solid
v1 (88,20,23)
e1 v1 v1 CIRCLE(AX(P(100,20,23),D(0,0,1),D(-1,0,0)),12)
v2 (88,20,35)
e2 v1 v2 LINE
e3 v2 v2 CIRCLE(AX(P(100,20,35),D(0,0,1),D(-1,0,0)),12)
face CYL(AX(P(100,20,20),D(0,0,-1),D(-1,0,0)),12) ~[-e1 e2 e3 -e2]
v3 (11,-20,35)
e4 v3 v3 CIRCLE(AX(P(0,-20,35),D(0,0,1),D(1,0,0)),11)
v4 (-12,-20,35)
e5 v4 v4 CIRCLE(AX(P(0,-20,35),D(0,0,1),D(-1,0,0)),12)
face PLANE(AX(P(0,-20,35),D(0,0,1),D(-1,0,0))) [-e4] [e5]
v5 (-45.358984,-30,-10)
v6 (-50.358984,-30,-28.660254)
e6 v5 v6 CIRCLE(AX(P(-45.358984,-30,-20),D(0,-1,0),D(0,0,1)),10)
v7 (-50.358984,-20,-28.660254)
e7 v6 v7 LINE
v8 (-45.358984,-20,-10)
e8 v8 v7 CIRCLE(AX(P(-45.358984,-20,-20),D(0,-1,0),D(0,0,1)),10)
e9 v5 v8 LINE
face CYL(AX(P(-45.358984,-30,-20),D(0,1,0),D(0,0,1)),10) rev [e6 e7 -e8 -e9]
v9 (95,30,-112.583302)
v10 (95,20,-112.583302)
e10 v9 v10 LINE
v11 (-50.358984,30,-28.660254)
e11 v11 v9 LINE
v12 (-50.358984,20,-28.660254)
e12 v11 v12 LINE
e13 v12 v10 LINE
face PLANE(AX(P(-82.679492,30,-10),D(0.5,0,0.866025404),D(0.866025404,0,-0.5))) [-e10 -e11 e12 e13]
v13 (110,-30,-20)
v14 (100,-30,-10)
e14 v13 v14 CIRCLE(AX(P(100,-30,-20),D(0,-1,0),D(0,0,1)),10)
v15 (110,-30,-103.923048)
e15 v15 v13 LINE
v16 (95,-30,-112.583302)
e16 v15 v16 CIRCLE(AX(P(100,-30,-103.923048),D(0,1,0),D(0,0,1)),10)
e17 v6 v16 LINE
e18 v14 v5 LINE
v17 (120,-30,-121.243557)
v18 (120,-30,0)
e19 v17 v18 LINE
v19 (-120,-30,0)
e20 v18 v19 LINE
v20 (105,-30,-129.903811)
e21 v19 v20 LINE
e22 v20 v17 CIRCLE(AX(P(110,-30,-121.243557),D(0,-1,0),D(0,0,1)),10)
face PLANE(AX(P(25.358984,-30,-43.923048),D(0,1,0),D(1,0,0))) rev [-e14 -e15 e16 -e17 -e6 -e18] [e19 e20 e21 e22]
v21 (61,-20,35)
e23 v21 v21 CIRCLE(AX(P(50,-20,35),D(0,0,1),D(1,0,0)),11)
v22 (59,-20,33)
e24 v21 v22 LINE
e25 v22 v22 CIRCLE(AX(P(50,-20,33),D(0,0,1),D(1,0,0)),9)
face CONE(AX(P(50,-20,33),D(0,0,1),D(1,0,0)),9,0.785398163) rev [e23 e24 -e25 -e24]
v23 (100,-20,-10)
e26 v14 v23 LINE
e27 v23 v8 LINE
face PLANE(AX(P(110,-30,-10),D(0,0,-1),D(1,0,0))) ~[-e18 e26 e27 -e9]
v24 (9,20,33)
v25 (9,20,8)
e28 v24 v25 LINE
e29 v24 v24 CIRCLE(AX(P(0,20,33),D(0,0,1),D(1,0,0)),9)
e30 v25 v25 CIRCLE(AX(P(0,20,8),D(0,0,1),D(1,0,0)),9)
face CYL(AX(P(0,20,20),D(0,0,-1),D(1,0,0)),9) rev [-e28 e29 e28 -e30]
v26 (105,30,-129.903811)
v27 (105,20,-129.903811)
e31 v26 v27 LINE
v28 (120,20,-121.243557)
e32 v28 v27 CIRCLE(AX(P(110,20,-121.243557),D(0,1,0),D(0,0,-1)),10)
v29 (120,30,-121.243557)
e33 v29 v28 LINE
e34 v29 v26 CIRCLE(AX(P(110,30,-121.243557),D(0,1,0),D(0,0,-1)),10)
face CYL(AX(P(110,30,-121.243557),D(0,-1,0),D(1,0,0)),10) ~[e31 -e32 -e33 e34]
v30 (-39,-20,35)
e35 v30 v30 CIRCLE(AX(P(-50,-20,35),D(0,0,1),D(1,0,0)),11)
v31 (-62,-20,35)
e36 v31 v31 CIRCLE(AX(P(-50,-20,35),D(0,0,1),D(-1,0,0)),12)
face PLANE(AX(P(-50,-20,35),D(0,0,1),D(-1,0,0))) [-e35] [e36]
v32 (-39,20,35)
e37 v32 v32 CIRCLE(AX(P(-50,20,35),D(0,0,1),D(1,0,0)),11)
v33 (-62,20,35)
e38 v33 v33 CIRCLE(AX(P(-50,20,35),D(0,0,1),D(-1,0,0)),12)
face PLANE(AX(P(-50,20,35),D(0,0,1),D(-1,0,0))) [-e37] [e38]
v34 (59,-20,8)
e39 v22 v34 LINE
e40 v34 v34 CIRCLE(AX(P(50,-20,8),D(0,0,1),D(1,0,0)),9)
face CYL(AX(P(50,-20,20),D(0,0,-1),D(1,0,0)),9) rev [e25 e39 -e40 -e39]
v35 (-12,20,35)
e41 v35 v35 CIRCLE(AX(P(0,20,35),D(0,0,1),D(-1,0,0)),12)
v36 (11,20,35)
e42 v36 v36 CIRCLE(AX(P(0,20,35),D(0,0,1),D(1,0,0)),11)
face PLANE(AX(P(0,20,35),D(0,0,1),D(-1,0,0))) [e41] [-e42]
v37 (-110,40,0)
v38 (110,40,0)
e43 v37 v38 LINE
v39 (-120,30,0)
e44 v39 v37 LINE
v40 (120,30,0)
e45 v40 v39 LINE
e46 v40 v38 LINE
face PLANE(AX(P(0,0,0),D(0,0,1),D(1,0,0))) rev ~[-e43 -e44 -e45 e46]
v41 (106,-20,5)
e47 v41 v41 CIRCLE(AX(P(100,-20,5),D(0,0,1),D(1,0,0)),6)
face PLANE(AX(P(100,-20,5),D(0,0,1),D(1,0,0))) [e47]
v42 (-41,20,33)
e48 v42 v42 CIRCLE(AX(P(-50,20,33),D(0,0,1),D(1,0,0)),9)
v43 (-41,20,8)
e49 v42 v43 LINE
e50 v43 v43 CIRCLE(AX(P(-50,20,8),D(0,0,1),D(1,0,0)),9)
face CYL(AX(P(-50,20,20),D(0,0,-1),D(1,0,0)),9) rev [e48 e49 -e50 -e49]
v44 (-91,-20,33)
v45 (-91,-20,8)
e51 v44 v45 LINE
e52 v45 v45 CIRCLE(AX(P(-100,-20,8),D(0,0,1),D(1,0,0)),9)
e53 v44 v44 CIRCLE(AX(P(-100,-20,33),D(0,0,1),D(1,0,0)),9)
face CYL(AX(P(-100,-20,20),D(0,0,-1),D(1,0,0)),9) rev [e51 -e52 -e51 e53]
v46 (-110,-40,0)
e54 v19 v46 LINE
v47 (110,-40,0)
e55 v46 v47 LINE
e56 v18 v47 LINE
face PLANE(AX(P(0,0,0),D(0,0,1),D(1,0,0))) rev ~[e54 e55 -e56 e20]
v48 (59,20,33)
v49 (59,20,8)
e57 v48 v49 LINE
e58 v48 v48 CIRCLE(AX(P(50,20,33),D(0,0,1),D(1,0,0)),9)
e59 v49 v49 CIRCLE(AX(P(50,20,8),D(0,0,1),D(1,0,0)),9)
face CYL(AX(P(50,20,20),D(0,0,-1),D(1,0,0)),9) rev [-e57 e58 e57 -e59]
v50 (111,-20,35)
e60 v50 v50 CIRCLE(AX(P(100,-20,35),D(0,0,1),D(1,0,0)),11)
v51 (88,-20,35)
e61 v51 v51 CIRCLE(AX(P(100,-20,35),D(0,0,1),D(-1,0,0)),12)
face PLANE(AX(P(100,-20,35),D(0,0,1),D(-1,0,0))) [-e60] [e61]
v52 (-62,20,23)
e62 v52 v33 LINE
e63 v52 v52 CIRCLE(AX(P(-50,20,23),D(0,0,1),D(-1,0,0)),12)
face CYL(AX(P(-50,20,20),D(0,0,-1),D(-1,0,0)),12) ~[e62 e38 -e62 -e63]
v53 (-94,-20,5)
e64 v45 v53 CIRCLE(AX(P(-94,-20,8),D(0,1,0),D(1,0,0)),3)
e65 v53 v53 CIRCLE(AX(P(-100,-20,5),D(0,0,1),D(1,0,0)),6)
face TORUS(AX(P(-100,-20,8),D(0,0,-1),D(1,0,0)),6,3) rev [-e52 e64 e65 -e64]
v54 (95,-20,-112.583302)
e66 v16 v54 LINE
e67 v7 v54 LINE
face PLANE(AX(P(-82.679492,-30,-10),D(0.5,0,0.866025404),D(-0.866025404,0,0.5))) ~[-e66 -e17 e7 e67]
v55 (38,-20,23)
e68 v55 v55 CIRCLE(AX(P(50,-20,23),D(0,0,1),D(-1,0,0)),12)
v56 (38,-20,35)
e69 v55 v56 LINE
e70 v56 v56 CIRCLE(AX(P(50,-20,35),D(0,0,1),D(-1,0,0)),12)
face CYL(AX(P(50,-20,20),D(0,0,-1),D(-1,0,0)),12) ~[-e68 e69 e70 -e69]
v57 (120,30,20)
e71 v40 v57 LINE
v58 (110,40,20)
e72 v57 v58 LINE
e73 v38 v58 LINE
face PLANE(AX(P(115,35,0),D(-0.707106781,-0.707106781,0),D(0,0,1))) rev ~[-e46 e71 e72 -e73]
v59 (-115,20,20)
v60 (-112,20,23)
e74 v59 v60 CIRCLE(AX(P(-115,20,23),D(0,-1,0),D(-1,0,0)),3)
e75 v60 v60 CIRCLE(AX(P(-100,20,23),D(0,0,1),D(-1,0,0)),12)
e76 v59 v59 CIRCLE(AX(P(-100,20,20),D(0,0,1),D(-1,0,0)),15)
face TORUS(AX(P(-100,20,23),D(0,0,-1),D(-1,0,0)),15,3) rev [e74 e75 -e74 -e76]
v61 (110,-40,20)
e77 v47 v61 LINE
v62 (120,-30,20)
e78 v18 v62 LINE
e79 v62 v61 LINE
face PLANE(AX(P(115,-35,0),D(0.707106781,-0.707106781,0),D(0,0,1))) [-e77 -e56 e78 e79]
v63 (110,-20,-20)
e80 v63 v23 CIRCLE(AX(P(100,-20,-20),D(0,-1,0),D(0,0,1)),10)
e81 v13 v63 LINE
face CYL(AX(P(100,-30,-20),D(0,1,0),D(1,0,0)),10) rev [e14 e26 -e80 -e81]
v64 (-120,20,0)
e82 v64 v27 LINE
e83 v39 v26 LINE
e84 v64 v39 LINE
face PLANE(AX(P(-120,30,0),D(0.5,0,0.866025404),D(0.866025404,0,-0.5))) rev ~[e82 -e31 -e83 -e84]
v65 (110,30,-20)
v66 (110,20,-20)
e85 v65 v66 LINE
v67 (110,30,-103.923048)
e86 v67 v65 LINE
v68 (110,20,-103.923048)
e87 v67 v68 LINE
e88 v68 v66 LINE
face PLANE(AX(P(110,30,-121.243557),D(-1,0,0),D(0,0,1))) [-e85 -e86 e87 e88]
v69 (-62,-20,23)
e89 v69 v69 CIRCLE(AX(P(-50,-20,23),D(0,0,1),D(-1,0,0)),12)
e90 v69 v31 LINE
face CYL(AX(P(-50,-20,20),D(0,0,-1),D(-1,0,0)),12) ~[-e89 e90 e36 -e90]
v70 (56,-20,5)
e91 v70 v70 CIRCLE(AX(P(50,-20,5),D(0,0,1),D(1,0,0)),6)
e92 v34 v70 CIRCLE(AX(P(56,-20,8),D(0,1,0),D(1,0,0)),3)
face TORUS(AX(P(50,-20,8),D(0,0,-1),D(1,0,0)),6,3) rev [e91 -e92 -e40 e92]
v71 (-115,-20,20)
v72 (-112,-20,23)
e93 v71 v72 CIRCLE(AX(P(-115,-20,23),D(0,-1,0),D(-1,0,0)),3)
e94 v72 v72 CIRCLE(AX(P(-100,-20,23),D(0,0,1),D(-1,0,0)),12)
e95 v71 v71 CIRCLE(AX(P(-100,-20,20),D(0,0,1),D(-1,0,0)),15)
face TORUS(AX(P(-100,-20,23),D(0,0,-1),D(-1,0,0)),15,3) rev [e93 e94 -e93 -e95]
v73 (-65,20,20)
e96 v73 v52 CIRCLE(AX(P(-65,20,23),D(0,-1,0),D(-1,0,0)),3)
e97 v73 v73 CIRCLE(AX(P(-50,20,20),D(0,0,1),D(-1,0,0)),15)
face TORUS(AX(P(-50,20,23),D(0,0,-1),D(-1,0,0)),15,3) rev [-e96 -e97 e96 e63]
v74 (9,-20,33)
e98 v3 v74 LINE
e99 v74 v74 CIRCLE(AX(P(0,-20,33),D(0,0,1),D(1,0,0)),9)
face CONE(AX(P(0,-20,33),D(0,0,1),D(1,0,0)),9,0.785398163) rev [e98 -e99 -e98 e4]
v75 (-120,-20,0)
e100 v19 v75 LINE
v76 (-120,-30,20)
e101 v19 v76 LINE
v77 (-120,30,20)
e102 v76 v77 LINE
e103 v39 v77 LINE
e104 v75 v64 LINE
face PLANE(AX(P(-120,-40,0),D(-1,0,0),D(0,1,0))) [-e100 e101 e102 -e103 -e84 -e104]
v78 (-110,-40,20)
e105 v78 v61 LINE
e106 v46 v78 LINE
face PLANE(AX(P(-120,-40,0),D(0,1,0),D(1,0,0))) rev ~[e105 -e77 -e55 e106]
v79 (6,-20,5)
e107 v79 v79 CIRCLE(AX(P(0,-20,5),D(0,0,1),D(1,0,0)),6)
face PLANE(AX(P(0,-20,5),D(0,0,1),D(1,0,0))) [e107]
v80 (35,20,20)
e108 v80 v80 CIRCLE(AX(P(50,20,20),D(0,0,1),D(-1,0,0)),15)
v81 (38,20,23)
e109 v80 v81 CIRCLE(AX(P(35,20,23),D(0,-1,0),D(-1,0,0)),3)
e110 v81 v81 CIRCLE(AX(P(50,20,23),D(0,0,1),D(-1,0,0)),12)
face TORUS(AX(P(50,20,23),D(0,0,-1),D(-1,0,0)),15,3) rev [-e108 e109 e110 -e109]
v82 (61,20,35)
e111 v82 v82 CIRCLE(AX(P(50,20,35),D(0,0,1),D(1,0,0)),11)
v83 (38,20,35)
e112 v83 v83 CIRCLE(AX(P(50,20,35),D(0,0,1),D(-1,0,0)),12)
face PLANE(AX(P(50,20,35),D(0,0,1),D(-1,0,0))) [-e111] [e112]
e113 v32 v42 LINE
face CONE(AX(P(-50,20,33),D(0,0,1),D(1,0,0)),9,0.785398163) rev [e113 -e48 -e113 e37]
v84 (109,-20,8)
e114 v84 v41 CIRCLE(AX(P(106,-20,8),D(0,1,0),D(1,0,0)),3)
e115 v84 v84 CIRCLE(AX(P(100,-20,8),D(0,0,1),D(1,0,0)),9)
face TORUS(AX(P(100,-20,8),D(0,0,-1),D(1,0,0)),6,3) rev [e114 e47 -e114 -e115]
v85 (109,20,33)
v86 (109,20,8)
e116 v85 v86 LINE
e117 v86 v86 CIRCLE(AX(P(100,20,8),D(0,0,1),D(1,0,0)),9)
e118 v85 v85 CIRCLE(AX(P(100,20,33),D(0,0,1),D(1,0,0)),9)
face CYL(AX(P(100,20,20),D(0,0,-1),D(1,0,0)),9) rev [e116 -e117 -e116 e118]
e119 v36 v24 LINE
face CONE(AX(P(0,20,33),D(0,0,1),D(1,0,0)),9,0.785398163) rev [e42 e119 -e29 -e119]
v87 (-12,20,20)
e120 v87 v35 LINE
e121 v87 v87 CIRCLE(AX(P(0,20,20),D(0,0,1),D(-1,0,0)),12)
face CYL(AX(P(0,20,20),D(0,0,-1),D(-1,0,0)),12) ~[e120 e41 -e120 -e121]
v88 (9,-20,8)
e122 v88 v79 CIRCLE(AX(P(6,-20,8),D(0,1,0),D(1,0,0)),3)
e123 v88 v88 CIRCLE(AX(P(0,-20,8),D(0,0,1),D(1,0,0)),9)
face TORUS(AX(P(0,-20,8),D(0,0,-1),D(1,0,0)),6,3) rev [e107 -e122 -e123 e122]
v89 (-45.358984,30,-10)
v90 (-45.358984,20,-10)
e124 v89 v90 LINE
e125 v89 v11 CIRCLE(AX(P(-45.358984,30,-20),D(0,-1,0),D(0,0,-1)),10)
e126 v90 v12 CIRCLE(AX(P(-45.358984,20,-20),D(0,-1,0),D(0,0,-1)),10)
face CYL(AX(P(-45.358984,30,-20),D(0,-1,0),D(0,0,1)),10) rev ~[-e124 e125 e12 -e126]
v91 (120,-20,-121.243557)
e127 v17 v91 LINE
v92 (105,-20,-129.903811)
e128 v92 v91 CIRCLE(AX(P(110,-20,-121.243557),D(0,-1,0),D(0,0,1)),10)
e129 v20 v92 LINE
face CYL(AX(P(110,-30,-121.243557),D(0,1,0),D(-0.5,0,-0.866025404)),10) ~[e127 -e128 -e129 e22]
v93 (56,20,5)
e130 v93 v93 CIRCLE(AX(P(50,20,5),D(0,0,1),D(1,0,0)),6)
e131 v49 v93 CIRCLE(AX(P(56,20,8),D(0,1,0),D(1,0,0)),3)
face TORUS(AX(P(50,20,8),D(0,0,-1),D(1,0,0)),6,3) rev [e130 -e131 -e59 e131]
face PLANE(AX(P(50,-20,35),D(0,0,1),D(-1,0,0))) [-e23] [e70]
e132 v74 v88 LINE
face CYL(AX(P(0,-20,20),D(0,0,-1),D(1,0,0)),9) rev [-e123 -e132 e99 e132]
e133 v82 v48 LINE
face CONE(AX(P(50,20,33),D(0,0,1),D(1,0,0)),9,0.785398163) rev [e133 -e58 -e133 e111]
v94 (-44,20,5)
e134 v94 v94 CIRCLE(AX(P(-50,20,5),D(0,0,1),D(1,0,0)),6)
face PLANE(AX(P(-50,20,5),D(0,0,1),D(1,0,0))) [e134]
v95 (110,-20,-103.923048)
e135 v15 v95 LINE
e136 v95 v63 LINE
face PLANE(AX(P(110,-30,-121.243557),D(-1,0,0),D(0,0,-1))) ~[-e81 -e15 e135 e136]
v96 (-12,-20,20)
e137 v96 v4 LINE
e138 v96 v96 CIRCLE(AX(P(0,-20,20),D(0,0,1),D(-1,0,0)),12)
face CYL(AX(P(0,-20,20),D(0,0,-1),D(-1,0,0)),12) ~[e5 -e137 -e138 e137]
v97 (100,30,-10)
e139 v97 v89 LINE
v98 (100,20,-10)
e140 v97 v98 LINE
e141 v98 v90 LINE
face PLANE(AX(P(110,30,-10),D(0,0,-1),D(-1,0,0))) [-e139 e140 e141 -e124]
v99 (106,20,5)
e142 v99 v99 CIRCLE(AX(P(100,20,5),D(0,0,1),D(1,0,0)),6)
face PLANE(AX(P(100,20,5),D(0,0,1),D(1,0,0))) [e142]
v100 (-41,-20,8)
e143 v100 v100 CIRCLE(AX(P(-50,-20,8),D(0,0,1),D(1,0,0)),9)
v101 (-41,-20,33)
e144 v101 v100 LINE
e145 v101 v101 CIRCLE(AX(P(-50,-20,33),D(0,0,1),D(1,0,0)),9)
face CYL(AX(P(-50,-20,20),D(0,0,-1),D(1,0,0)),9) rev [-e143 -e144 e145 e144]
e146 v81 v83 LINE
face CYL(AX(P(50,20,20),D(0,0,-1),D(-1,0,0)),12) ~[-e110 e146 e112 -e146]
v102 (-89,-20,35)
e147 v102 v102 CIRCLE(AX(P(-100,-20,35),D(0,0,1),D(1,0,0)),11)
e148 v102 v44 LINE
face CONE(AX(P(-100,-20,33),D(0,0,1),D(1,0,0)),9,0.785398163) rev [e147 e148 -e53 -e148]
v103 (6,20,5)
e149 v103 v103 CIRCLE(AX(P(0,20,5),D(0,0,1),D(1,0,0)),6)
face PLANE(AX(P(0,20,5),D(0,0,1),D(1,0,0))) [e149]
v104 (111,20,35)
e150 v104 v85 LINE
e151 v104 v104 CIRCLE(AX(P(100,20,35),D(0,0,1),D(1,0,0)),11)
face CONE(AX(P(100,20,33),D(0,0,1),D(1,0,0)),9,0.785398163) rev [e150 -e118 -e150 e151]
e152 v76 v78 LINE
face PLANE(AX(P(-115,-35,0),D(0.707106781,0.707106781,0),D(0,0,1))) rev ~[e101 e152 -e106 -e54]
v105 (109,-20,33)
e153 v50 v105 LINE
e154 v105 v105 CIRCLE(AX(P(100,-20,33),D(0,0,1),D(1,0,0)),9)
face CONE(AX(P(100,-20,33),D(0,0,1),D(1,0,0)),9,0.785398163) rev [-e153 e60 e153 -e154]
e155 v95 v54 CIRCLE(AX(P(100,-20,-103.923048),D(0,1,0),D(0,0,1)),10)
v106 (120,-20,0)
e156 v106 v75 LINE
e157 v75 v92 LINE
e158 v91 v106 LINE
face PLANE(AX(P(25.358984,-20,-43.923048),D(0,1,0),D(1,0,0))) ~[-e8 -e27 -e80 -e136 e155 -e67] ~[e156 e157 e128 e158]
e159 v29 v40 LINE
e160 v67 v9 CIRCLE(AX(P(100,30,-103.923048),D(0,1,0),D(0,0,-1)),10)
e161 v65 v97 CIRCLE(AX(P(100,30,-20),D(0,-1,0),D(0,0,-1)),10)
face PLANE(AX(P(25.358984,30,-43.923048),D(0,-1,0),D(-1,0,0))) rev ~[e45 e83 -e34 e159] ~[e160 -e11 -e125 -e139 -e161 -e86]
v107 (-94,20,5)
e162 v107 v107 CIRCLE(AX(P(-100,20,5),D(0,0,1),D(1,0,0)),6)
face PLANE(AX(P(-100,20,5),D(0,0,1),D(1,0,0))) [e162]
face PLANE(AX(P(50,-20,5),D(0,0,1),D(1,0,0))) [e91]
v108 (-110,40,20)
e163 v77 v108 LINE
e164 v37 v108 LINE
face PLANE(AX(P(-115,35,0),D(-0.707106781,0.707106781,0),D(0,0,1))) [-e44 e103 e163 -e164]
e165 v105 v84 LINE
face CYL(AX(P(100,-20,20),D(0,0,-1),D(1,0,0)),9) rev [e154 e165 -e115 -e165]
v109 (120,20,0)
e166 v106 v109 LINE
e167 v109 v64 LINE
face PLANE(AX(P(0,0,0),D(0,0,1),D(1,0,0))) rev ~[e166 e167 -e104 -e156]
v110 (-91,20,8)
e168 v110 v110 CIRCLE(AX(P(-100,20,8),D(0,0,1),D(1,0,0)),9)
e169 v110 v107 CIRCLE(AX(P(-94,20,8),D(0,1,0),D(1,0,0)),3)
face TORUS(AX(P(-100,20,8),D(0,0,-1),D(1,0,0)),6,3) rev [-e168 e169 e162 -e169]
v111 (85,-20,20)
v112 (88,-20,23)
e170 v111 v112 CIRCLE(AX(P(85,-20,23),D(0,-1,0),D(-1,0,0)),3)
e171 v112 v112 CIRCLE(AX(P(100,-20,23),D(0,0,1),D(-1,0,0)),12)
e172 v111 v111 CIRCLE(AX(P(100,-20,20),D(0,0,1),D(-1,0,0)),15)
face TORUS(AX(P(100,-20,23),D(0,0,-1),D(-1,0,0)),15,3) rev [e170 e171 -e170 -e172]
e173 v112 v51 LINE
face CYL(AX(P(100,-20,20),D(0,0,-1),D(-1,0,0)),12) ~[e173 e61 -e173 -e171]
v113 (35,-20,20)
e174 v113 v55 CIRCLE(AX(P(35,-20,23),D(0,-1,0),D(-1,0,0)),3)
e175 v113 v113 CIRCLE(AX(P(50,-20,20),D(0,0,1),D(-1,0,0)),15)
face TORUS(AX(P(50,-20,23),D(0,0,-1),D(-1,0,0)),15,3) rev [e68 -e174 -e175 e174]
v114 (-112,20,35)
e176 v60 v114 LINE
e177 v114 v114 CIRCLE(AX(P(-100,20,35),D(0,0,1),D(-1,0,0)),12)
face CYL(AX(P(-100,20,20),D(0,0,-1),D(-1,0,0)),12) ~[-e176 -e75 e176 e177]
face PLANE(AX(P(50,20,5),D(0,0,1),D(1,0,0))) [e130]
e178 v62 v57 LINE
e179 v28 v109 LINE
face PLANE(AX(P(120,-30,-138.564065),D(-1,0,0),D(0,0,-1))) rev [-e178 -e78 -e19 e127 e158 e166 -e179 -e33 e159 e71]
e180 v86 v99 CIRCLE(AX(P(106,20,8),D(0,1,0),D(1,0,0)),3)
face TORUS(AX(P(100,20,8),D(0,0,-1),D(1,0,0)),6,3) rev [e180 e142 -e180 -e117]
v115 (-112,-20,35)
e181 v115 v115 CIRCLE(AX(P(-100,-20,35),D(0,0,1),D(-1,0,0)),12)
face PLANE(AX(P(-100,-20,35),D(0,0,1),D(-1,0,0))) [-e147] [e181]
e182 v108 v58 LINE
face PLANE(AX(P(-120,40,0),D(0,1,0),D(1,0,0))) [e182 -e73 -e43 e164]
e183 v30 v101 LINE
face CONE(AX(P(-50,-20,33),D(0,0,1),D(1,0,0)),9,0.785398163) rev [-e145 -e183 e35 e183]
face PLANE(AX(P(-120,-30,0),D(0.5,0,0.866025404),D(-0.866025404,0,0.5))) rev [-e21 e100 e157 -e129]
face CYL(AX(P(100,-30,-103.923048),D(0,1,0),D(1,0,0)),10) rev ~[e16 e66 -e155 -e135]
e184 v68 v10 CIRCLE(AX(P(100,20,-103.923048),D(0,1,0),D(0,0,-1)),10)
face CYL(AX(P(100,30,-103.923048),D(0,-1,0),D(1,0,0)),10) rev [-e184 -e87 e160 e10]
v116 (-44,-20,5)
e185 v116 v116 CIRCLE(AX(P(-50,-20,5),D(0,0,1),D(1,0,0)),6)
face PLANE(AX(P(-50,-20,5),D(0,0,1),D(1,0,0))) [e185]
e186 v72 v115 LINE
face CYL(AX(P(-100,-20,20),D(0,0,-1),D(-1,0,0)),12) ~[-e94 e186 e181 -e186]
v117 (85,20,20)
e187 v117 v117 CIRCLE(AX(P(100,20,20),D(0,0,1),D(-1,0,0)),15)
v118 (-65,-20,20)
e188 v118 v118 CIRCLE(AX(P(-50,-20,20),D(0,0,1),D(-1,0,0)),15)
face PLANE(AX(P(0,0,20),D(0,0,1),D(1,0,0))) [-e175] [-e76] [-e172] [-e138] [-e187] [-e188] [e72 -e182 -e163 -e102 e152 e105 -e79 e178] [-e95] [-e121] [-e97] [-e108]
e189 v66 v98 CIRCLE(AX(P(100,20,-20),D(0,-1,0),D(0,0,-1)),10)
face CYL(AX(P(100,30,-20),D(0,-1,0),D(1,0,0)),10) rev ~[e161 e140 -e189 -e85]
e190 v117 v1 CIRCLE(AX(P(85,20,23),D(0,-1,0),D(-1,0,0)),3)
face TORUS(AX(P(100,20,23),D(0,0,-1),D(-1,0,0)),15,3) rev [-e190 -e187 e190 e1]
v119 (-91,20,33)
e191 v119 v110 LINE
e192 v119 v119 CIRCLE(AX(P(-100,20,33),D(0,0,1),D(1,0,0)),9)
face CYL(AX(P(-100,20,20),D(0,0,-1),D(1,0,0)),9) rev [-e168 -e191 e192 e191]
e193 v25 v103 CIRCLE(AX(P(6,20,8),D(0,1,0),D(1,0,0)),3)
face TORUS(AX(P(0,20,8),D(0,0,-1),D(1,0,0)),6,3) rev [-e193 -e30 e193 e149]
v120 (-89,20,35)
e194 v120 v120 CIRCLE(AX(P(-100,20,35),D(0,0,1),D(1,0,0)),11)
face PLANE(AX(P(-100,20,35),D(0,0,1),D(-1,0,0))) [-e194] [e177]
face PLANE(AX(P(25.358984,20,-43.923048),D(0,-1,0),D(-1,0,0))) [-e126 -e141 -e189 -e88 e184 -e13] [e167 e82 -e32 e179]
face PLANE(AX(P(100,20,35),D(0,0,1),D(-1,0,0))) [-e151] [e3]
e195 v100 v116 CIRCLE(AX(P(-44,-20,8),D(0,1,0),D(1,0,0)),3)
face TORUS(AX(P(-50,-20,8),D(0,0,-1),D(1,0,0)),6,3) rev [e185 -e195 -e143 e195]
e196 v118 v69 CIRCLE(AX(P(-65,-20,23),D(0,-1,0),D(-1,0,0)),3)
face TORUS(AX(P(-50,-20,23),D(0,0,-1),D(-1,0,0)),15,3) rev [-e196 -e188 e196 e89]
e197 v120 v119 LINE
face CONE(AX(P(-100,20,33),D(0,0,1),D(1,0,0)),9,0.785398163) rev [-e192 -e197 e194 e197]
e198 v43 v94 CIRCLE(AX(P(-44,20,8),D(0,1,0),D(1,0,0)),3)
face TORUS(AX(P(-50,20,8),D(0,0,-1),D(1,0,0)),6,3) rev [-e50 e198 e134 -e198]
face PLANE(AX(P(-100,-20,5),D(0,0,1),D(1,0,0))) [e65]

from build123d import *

# Parameters (mm, degrees)
SKETCH_1_W          = 240
SKETCH_1_H          = 80
EXTRUDE_1_DEPTH     = 20
SKETCH_2_R          = 12
SKETCH_2_R_2        = 9
EXTRUDE_2_DEPTH     = 15
CUT_EXTRUDE_START   = -15
SKETCH_3_R          = 9
CUT_EXTRUDE_1_DEPTH = 15
CHAMFER_1_SIZE      = 10
FILLET_1_R          = 3
CHAMFER_2_SIZE      = 2
EXTRUDE_START       = -10
EXTRUDE_4_DEPTH     = 10
FILLET_3_R          = 10


with BuildPart() as part:
    # 草图1 → 凸台-拉伸1 (new body)
    with BuildSketch(Plane.XY):
        Rectangle(SKETCH_1_W, SKETCH_1_H)
    extrude(amount=EXTRUDE_1_DEPTH)

    # 草图2 → 凸台-拉伸2 (add)
    # profile 1 of 10: a face of its own
    with BuildSketch(Plane.XY.offset(20)):
        with Locations((-100, 20)):
            Circle(SKETCH_2_R)
        with Locations((-100, 20)):
            Circle(SKETCH_2_R_2, mode=Mode.SUBTRACT)
    # profile 2 of 10: a face of its own
    with BuildSketch(Plane.XY.offset(20)):
        with Locations((-50, 20)):
            Circle(SKETCH_2_R)
        with Locations((-50, 20)):
            Circle(SKETCH_2_R_2, mode=Mode.SUBTRACT)
    # profile 3 of 10: a face of its own
    with BuildSketch(Plane.XY.offset(20)):
        with Locations((0, 20)):
            Circle(SKETCH_2_R)
        with Locations((0, 20)):
            Circle(SKETCH_2_R_2, mode=Mode.SUBTRACT)
    # profile 4 of 10: a face of its own
    with BuildSketch(Plane.XY.offset(20)):
        with Locations((50, 20)):
            Circle(SKETCH_2_R)
        with Locations((50, 20)):
            Circle(SKETCH_2_R_2, mode=Mode.SUBTRACT)
    # profile 5 of 10: a face of its own
    with BuildSketch(Plane.XY.offset(20)):
        with Locations((100, 20)):
            Circle(SKETCH_2_R)
        with Locations((100, 20)):
            Circle(SKETCH_2_R_2, mode=Mode.SUBTRACT)
    # profile 6 of 10: a face of its own
    with BuildSketch(Plane.XY.offset(20)):
        with Locations((-50, -20)):
            Circle(SKETCH_2_R)
        with Locations((-50, -20)):
            Circle(SKETCH_2_R_2, mode=Mode.SUBTRACT)
    # profile 7 of 10: a face of its own
    with BuildSketch(Plane.XY.offset(20)):
        with Locations((0, -20)):
            Circle(SKETCH_2_R)
        with Locations((0, -20)):
            Circle(SKETCH_2_R_2, mode=Mode.SUBTRACT)
    # profile 8 of 10: a face of its own
    with BuildSketch(Plane.XY.offset(20)):
        with Locations((50, -20)):
            Circle(SKETCH_2_R)
        with Locations((50, -20)):
            Circle(SKETCH_2_R_2, mode=Mode.SUBTRACT)
    # profile 9 of 10: a face of its own
    with BuildSketch(Plane.XY.offset(20)):
        with Locations((100, -20)):
            Circle(SKETCH_2_R)
        with Locations((100, -20)):
            Circle(SKETCH_2_R_2, mode=Mode.SUBTRACT)
    # profile 10 of 10: a face of its own
    with BuildSketch(Plane.XY.offset(20)):
        with Locations((-100, -20)):
            Circle(SKETCH_2_R)
        with Locations((-100, -20)):
            Circle(SKETCH_2_R_2, mode=Mode.SUBTRACT)
    extrude(amount=EXTRUDE_2_DEPTH)

    # 草图3 → 切除-拉伸1 (cut)
    with BuildSketch(Plane.XY.offset(20).offset(CUT_EXTRUDE_START)):
        with Locations((-100, 20)):
            Circle(SKETCH_3_R)
        with Locations((-50, 20)):
            Circle(SKETCH_3_R)
        with Locations((0, 20)):
            Circle(SKETCH_3_R)
        with Locations((50, 20)):
            Circle(SKETCH_3_R)
        with Locations((100, 20)):
            Circle(SKETCH_3_R)
        with Locations((-50, -20)):
            Circle(SKETCH_3_R)
        with Locations((0, -20)):
            Circle(SKETCH_3_R)
        with Locations((50, -20)):
            Circle(SKETCH_3_R)
        with Locations((100, -20)):
            Circle(SKETCH_3_R)
        with Locations((-100, -20)):
            Circle(SKETCH_3_R)
    extrude(amount=CUT_EXTRUDE_1_DEPTH, mode=Mode.SUBTRACT)

    # 倒角1
    chamfer_1_edges = [part.edges().sort_by_distance(p)[0] for p in [
        (120, 40, 10),
        (120, -40, 10),
        (-120, -40, 10),
        (-120, 40, 10),
    ]]
    chamfer(chamfer_1_edges, length=CHAMFER_1_SIZE)

    # 圆角1
    fillet_1_edges = [part.edges().sort_by_distance(p)[0] for p in [
        (-112, 20, 20),
        (-109, -20, 5),
        (91, -20, 5),
        (41, -20, 5),
        (-9, -20, 5),
        (-59, -20, 5),
        (91, 20, 5),
        (41, 20, 5),
        (-9, 20, 5),
        (-59, 20, 5),
        (-109, 20, 5),
        (-62, 20, 20),
        (38, 20, 20),
        (88, 20, 20),
        (-62, -20, 20),
        (38, -20, 20),
        (88, -20, 20),
        (-112, -20, 20),
    ]]
    fillet(fillet_1_edges, radius=FILLET_1_R)

    # 倒角2
    chamfer_2_edges = [part.edges().sort_by_distance(p)[0] for p in [
        (91, -20, 35),
        (41, -20, 35),
        (-9, -20, 35),
        (-59, -20, 35),
        (-109, -20, 35),
        (91, 20, 35),
        (41, 20, 35),
        (-9, 20, 35),
        (-59, 20, 35),
        (-109, 20, 35),
    ]]
    chamfer(chamfer_2_edges, length=CHAMFER_2_SIZE)

    # 草图5 → 凸台-拉伸4 (add)
    with BuildSketch(Plane(origin=(0, 40, 0), x_dir=(1, 0, 0), z_dir=(0, 1, 0)).offset(EXTRUDE_START)):
        Polygon((-120, 0), (120, 138.564064606), (120, 0), align=None)
        Polygon((110, 121.24355653), (110, 10), (-82.679491924, 10), align=None, mode=Mode.SUBTRACT)
    extrude_4 = extrude(amount=-EXTRUDE_4_DEPTH)

    # 镜向2: 凸台-拉伸4 across plane
    add(extrude_4.mirror(Plane.ZX))

    # 圆角3
    fillet_3_edges = [part.edges().sort_by_distance(p)[0] for p in [
        (120, -25, -138.564064606),
        (120, 25, -138.564064606),
        (-82.679491924, -25, -10),
        (110, -25, -121.24355653),
        (110, -25, -10),
        (-82.679491924, 25, -10),
        (110, 25, -121.24355653),
        (110, 25, -10),
    ]]
    fillet(fillet_3_edges, radius=FILLET_3_R)


solid = part.part
